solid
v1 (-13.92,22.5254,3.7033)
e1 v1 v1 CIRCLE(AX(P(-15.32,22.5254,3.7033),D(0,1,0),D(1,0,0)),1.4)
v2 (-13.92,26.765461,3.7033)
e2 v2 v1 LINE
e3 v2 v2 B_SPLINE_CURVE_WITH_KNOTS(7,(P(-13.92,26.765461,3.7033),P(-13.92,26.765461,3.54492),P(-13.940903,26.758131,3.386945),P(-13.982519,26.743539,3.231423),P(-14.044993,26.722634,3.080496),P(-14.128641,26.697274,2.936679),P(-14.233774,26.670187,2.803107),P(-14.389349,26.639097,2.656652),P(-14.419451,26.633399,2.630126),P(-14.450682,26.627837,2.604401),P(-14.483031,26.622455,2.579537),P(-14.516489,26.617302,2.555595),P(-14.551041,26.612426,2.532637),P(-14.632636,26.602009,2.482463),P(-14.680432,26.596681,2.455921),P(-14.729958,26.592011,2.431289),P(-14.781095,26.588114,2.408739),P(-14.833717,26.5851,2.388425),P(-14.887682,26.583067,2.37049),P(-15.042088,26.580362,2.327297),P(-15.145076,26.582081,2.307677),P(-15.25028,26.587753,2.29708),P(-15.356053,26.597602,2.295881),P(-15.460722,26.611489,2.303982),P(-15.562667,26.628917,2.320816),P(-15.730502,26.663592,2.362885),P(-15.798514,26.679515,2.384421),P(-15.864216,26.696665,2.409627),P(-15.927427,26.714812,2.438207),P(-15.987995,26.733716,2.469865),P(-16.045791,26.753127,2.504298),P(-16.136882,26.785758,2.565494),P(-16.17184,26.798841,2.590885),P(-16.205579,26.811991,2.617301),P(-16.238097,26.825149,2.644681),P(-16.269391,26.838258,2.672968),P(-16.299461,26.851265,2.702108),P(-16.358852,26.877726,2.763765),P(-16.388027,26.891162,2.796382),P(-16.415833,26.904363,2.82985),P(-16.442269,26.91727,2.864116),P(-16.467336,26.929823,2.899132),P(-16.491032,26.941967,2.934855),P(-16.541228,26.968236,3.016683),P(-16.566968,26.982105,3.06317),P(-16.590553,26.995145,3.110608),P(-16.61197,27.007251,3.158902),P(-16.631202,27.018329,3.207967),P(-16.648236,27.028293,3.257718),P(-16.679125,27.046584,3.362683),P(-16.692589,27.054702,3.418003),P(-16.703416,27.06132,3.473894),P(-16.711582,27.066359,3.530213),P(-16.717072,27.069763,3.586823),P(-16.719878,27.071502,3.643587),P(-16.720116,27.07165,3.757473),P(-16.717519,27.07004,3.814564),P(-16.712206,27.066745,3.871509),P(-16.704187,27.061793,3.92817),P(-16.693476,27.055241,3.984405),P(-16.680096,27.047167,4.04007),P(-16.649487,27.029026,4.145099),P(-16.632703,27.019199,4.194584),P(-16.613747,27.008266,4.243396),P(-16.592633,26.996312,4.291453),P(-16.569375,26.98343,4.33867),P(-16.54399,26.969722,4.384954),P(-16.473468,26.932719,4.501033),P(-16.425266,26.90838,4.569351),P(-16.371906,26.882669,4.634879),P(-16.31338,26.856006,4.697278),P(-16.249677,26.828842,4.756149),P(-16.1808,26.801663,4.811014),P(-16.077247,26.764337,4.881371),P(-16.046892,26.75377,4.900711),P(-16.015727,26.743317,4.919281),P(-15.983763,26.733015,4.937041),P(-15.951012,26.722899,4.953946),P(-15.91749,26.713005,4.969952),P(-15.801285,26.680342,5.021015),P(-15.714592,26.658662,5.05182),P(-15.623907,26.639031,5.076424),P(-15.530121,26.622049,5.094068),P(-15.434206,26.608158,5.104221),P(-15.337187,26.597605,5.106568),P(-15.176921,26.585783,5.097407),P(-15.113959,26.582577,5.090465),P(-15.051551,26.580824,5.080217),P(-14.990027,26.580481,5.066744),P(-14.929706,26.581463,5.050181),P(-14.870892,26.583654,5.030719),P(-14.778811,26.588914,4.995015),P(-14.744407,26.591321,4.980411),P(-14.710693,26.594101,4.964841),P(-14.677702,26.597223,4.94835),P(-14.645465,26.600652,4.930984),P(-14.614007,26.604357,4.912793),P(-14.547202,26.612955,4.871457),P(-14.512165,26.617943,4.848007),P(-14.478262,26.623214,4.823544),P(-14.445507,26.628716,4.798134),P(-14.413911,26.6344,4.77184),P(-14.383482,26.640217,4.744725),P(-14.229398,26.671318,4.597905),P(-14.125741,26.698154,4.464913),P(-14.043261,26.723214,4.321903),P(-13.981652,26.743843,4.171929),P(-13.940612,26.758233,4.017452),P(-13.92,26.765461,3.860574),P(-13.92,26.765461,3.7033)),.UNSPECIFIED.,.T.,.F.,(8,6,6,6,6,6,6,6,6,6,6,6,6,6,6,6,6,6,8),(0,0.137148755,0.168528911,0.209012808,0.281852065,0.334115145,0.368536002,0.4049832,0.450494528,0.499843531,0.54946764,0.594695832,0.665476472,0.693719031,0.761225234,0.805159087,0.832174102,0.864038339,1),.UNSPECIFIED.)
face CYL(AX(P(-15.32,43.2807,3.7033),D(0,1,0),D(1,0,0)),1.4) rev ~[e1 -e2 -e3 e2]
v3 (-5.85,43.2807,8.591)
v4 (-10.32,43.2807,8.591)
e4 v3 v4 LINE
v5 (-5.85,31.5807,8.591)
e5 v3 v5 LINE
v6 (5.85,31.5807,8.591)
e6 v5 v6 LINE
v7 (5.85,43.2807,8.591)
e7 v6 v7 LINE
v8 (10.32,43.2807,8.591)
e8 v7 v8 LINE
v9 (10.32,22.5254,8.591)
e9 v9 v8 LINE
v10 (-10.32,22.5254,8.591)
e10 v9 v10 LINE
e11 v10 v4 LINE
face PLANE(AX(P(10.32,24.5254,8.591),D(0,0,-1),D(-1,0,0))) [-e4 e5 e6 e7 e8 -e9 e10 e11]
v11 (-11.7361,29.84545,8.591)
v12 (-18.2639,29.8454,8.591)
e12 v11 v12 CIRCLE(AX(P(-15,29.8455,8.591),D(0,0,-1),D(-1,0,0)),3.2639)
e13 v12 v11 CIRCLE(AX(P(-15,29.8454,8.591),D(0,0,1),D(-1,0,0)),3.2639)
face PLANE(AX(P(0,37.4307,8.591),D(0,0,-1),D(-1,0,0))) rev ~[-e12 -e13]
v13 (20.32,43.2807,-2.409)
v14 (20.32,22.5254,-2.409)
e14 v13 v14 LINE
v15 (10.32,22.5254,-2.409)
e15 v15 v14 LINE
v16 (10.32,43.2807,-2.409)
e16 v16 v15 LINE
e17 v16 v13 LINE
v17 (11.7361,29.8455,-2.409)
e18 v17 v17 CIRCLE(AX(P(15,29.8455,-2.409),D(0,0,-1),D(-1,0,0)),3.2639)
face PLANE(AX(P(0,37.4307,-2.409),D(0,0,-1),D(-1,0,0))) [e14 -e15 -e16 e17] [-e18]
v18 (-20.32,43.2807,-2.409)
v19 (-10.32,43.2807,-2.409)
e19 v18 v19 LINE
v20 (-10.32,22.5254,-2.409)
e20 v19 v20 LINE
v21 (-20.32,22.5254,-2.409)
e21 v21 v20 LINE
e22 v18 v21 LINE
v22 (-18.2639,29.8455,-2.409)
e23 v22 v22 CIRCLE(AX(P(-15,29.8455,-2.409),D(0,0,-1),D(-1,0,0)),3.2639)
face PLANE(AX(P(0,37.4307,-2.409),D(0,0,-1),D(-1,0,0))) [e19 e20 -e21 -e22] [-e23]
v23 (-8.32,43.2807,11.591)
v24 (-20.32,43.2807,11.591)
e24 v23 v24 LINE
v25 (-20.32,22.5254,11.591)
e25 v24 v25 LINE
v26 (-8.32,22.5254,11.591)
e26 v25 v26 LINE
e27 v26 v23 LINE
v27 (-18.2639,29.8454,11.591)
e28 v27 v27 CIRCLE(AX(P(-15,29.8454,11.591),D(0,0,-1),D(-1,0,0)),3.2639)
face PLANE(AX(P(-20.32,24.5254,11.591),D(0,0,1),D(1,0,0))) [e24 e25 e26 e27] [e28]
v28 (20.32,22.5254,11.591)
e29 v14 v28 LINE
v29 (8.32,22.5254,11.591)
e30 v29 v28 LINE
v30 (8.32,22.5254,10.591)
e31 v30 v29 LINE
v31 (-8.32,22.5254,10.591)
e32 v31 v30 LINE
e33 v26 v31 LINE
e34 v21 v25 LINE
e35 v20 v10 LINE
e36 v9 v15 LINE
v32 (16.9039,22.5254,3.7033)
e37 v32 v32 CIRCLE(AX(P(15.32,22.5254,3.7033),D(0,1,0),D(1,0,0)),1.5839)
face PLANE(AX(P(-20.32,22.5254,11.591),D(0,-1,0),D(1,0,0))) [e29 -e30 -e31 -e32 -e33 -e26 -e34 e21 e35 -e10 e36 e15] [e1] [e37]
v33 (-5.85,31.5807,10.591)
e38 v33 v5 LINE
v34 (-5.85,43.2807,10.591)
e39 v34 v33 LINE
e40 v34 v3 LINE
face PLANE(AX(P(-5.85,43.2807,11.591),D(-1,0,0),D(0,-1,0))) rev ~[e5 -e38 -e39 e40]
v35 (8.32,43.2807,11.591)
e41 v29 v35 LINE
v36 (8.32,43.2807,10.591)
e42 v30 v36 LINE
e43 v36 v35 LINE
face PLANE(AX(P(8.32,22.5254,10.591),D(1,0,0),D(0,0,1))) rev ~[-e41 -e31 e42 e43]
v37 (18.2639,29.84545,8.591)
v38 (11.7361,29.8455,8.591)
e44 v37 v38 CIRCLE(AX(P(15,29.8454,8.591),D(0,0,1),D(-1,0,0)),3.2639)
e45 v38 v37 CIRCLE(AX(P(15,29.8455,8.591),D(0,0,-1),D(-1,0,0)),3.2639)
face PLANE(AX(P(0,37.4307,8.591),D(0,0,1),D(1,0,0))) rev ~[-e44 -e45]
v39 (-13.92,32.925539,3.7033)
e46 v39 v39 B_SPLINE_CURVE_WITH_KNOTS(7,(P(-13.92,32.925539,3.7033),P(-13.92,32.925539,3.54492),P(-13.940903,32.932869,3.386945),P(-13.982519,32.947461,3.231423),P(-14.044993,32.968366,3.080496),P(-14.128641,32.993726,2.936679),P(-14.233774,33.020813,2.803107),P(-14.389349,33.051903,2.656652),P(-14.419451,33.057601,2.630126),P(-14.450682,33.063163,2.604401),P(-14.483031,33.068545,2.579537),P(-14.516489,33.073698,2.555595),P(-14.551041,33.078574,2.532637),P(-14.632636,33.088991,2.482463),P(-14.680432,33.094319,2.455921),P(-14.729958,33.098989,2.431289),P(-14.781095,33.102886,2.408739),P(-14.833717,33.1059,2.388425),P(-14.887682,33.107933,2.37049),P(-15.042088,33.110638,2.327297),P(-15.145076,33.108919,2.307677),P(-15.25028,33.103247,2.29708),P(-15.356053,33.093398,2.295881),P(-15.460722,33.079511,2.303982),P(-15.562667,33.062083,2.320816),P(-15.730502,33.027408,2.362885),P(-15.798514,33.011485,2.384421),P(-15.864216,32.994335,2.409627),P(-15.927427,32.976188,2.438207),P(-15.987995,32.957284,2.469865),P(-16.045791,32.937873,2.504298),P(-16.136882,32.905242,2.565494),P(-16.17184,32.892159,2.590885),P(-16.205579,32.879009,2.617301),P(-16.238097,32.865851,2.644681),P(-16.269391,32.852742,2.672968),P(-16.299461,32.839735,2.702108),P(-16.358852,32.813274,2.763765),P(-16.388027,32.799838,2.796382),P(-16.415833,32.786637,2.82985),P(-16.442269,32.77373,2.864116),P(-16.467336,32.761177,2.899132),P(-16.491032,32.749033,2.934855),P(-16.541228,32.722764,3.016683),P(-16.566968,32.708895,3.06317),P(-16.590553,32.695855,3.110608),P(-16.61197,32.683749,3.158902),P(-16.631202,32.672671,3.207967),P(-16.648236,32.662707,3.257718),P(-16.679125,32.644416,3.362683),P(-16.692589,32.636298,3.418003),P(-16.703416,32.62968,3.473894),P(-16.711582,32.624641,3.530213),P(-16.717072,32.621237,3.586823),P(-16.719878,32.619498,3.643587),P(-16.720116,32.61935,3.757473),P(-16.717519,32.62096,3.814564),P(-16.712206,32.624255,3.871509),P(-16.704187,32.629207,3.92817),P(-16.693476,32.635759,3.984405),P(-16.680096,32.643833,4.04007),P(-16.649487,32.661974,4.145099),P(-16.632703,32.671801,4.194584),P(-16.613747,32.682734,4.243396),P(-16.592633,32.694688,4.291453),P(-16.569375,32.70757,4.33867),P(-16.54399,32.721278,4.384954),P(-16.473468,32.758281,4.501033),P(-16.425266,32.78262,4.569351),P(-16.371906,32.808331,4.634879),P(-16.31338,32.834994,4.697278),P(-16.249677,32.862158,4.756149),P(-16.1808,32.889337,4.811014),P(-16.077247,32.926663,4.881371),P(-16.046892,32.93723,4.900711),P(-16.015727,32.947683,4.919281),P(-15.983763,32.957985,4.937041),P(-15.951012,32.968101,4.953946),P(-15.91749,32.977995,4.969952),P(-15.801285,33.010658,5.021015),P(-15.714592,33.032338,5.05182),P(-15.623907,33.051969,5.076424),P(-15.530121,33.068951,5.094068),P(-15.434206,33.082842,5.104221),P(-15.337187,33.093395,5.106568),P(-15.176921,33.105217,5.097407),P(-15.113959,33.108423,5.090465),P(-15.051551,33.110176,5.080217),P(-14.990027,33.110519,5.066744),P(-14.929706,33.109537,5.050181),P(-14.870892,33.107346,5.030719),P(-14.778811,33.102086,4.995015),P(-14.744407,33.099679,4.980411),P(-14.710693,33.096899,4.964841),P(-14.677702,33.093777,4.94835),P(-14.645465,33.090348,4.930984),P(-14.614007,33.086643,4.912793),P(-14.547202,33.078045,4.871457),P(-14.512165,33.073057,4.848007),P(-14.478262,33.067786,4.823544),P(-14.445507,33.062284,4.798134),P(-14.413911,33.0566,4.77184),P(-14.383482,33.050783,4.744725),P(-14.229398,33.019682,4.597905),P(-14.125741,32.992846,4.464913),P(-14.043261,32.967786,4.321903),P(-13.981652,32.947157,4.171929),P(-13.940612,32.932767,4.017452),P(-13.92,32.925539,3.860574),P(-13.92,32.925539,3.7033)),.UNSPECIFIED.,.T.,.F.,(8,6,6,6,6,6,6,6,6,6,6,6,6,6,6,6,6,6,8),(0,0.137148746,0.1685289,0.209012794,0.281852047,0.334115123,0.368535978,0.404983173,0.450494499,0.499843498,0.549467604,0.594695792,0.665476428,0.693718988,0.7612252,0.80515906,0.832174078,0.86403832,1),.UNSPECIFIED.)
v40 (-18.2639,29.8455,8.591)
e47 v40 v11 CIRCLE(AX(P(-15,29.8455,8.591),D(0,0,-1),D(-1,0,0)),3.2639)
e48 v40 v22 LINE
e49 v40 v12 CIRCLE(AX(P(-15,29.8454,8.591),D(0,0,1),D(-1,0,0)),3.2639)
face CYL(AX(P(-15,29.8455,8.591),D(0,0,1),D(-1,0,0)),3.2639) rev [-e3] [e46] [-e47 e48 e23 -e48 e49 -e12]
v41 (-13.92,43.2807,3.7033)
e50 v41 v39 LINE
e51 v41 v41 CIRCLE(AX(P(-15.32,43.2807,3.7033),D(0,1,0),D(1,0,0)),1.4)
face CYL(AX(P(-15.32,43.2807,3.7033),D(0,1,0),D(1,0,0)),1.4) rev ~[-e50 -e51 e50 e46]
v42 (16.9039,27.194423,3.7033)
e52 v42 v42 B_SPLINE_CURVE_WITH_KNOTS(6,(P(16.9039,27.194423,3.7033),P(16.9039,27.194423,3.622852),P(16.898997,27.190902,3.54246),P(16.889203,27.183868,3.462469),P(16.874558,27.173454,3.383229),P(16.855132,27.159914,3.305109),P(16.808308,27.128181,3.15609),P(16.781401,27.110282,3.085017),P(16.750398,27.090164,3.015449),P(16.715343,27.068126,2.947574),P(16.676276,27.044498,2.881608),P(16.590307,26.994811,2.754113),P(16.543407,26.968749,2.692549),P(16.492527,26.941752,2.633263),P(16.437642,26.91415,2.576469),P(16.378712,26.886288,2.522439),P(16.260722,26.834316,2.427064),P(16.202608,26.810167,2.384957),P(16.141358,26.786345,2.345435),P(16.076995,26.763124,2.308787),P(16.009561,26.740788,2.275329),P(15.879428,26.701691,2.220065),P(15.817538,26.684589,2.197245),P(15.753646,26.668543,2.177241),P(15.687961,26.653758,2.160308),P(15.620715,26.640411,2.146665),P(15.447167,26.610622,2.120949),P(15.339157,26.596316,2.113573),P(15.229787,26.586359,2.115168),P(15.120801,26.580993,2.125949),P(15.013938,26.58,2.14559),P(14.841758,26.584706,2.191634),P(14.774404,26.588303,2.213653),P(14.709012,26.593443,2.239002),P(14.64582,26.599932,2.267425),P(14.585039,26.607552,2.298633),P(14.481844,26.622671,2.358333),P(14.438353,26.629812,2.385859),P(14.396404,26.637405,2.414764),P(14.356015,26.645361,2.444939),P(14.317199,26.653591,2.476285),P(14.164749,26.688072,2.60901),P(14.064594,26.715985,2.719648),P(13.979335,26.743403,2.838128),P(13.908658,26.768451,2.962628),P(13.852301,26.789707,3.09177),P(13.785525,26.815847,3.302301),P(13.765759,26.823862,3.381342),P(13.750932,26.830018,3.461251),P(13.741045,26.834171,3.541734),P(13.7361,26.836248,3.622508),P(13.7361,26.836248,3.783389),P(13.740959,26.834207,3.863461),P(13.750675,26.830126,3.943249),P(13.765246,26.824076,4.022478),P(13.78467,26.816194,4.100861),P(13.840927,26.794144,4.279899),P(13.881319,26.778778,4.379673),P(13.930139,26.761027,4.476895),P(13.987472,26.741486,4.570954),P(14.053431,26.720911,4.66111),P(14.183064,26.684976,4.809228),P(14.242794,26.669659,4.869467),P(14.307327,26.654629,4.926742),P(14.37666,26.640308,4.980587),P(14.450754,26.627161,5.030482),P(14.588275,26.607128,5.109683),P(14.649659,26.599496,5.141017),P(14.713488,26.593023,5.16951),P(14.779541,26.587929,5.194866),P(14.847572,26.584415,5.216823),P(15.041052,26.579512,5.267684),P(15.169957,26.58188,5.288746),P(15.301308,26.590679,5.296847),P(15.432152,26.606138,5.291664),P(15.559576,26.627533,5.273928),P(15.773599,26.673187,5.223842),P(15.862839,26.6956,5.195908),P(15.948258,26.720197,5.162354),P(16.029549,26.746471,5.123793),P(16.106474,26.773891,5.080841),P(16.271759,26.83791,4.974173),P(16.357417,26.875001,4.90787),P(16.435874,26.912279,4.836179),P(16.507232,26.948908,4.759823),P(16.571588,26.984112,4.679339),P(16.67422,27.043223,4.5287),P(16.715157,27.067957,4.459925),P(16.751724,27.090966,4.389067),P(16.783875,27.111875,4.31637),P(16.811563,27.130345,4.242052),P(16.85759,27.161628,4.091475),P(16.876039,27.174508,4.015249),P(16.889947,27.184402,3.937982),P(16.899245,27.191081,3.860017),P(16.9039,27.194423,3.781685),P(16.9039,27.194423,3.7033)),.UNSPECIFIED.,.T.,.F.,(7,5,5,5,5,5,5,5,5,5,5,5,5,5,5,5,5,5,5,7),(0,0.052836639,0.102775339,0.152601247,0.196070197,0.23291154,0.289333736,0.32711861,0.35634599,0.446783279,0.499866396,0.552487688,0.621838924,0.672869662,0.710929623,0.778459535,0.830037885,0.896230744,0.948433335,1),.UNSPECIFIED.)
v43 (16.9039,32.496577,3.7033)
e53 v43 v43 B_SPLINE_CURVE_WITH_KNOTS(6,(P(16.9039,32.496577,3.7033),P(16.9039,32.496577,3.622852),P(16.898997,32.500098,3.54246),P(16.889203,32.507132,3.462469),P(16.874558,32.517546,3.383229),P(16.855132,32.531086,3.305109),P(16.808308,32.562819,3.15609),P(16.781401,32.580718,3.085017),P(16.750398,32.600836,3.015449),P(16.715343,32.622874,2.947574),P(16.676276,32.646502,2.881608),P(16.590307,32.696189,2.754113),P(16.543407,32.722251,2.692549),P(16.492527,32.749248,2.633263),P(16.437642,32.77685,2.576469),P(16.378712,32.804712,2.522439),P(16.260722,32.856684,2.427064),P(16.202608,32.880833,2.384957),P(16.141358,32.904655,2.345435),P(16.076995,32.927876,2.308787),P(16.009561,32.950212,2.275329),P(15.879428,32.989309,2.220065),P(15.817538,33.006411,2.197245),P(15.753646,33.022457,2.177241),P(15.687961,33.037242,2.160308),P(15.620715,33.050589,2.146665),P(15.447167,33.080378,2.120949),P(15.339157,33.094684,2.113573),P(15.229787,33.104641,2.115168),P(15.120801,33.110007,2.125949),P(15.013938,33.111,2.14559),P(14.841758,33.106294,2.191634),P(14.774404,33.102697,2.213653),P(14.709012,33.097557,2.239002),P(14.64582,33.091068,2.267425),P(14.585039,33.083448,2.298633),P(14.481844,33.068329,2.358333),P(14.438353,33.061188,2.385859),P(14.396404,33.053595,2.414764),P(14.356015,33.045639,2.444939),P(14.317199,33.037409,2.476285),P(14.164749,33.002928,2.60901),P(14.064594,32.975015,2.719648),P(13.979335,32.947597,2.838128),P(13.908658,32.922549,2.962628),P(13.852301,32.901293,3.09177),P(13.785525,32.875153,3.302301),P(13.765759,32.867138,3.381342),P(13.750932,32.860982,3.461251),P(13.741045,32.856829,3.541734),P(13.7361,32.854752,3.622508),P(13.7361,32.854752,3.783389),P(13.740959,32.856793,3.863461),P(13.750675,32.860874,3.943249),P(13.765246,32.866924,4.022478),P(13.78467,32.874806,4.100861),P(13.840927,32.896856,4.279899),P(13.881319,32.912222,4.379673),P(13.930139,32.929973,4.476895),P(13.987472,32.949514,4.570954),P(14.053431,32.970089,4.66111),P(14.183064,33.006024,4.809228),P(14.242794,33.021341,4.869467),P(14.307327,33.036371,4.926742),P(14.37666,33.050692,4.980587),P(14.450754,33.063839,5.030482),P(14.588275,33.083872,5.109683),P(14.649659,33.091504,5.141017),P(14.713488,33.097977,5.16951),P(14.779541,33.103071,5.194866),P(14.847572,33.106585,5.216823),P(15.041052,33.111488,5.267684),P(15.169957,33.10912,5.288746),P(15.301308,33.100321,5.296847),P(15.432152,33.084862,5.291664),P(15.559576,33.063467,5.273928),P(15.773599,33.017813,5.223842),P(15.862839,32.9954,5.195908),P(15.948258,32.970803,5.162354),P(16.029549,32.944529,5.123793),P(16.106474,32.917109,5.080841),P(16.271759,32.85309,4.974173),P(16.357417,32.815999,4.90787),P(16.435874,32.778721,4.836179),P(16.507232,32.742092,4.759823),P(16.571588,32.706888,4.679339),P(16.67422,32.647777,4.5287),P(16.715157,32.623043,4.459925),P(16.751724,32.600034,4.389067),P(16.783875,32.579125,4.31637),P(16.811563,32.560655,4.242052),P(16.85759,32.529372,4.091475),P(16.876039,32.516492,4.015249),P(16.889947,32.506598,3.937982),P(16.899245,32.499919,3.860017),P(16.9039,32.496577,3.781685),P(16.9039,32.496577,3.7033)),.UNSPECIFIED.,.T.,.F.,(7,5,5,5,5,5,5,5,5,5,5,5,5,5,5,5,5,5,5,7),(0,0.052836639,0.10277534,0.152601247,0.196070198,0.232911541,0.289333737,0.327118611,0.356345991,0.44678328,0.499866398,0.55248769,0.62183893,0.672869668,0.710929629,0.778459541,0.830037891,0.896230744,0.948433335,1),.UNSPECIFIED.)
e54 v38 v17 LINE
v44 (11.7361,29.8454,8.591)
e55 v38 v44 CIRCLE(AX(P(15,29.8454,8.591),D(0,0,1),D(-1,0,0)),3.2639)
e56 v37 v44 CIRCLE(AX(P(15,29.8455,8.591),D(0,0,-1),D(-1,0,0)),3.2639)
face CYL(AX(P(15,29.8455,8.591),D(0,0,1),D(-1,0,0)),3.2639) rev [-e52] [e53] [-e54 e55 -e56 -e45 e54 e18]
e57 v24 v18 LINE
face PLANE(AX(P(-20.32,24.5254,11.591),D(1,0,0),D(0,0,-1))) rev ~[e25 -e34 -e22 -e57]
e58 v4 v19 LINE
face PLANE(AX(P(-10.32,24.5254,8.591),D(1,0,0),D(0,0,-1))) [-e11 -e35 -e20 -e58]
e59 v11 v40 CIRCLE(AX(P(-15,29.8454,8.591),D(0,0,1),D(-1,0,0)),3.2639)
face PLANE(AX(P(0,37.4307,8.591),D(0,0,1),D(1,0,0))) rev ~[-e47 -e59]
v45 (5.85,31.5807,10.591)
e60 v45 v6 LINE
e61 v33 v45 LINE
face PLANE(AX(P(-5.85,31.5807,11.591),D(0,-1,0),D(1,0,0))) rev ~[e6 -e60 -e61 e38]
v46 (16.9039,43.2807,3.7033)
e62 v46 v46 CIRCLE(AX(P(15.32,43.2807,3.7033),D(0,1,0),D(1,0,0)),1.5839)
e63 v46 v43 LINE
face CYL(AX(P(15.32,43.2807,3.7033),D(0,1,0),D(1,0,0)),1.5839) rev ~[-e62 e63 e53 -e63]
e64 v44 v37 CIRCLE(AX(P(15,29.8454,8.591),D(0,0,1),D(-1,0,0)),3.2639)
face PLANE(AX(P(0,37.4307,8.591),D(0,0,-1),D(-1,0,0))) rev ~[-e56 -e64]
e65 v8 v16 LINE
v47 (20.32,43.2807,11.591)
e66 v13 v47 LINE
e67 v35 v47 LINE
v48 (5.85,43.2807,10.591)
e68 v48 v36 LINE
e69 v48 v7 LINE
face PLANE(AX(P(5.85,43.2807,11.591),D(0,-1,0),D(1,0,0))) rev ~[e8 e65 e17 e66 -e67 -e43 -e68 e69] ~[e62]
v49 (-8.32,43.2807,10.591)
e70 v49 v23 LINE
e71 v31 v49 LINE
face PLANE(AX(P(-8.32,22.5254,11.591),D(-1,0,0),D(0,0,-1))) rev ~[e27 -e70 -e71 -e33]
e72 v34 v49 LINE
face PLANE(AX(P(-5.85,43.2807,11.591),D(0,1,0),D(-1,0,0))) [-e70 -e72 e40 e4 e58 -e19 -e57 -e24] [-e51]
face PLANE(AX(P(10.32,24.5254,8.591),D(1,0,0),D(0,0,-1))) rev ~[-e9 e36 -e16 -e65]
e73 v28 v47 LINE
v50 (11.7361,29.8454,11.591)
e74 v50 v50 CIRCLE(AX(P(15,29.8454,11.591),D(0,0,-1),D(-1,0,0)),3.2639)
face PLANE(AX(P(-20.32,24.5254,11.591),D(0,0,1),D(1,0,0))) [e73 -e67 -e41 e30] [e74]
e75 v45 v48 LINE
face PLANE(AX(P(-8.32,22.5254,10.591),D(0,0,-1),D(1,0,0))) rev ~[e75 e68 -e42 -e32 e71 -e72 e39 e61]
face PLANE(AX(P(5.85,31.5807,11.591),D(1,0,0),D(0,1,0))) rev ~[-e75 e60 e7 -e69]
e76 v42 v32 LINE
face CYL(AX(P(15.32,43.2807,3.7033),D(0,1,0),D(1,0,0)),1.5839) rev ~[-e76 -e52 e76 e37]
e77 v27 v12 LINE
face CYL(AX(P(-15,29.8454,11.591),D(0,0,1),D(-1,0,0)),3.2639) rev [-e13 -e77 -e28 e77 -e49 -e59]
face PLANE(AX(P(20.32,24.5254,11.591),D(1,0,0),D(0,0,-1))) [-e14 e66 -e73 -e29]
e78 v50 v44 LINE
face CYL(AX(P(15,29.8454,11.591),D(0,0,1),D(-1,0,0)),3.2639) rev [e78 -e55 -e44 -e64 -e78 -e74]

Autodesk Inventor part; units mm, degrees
ref_plane "YZ Plane" through (0, 0, 0) normal (1, 0, 0) x (0, 1, 0)
ref_plane "XZ Plane" through (0, 0, 0) normal (0, 1, 0) x (-1, 0, 0)
ref_plane "Work Plane1" through (0, 37.4307, 11.591) normal (0, 0, 1) x (1, 0, 0)
sketch "Sketch1" plane through (0, 37.4307, 11.591) normal (0, 0, 1) x (1, 0, 0)
  circle A0 centre (0, 0) radius 1.2261 construction
  line L0 (4.85, 4.85) -> (-4.85, 4.85) construction
  line L1 (-4.85, 4.85) -> (-4.85, -4.85) construction
  line L2 (-4.85, -4.85) -> (4.85, -4.85) construction
  line L3 (4.85, -4.85) -> (4.85, 4.85) construction
  line L4 (5.85, 5.85) -> (-5.85, 5.85)
  line L5 (-5.85, 5.85) -> (-5.85, -5.85)
  line L6 (-5.85, -5.85) -> (5.85, -5.85)
  line L7 (5.85, -5.85) -> (5.85, 5.85)
  line L8 (20.32, 25.4487) -> (20.32, -10.6193) projected
  line L9 (-20.32, -10.6193) -> (-20.32, 25.4487) projected
  line L10 (5.85, 5.85) -> (20.32, 5.85)
  line L11 (20.32, 5.85) -> (20.32, -5.85)
  line L12 (20.32, -5.85) -> (5.85, -5.85)
  line L13 (5.85, -5.85) -> (5.85, 5.85)
  line L14 (-5.85, 5.85) -> (-20.32, 5.85)
  line L15 (-20.32, 5.85) -> (-20.32, -5.85)
  line L16 (-20.32, -5.85) -> (-5.85, -5.85)
  line L17 (-5.85, -5.85) -> (-5.85, 5.85)
  line L18 (18.034, -12.9053) -> (-18.034, -12.9053) projected
  line L19 (20.32, -5.85) -> (-20.32, -5.85)
  line L20 (-20.32, -5.85) -> (-20.32, -12.9053)
  line L21 (-20.32, -12.9053) -> (20.32, -12.9053)
  line L22 (20.32, -12.9053) -> (20.32, -5.85)
  point P0 (0, -37.4307)
  dimension "d0" = 1
ref_plane "Work Plane2" through (-20.066, 24.7794, 0) normal (0, 0, 1) x (1, 0, 0)
extrude "Extrusion1" add sketch "Sketch1" against normal blind 3 contours L10 L8 L12 L7 | L5 L16 L9 L14 | L12 L8 L22 L21 L18 L20 L9 L16 L6
sketch "Sketch2" plane through (20.32, 24.5254, 11.591) normal (0, 0, -1) x (-1, 0, 0)
  circle A0 centre (35.32, 5.32) radius 3.0099 projected
  circle A1 centre (5.32, 5.32) radius 3.0099 projected
  circle A2 centre (35.32, 5.32) radius 3.2639 projected
  circle A3 centre (5.32, 5.32) radius 3.2639 projected
extrude "Extrusion2" cut sketch "Sketch2" along normal through all contours A0 | A1 | A2 | A3
sketch "Sketch9" plane through (0, 37.4307, 8.591) normal (0, 0, -1) x (-1, 0, 0)
  line L0 (5.85, -5.85) -> (-5.85, -5.85) projected
  circle A0 centre (-15, -7.5852) radius 3.2639 projected
  line L1 (-20.32, 5.85) -> (-20.32, -12.9053) projected
  line L2 (-20.32, -12.9053) -> (20.32, -12.9053) projected
  line L3 (20.32, -12.9053) -> (20.32, 5.85) projected
  circle A1 centre (15, -7.5852) radius 3.2639 projected
  line L4 (-5.85, 5.85) -> (-20.32, 5.85) projected
  line L5 (20.32, 5.85) -> (5.85, 5.85) projected
  line L6 (5.85, 5.85) -> (5.85, -5.85) projected
  line L7 (-5.85, -5.85) -> (-5.85, 5.85) projected
  line L8 (20.32, 5.85) -> (20.32, -12.9053) projected
  line L9 (20.32, 5.85) -> (5.85, 5.85) projected
  line L10 (20.32, -12.9053) -> (10.32, -12.9053)
  line L11 (10.32, -12.9053) -> (10.32, 5.85)
  line L12 (10.32, 5.85) -> (20.32, 5.85)
  line L13 (20.32, 5.85) -> (20.32, -12.9053)
  line L14 (-20.32, -12.9053) -> (-10.32, -12.9053)
  line L15 (-10.32, -12.9053) -> (-10.32, 5.85)
  line L16 (-10.32, 5.85) -> (-20.32, 5.85)
  line L17 (-20.32, 5.85) -> (-20.32, -12.9053)
  point P0 (0, -37.4307)
  dimension "d36" = 10
  dimension "d37" = 10
extrude "Extrusion9" add sketch "Sketch9" along normal blind 4 contours L5 L3 L2 L11 | L15 L2 L1 L4
sketch "Sketch10" plane through (-20.32, 24.5254, 11.591) normal (0, -1, 0) x (1, 0, 0)
  line L0 (0, 0) -> (40.64, 0) projected
  line L1 (0, 0) -> (0, -7) projected
  line L2 (10, -7) -> (0, -7) projected
  line L3 (10, -3) -> (10, -7) projected
  line L4 (30.64, -3) -> (10, -3) projected
  line L5 (30.64, -3) -> (30.64, -7) projected
  line L6 (40.64, -7) -> (30.64, -7) projected
  line L7 (40.64, 0) -> (40.64, -7) projected
  point P0 (20.32, -11.591)
extrude "Extrusion10" add sketch "Sketch10" along normal blind 2
sketch "Sketch12" plane through (-20.32, 22.5254, 11.591) normal (0, -1, 0) x (1, 0, 0)
  line L0 (40.64, 0) -> (0, 0) projected
  line L1 (0, 0) -> (0, -7) projected
  line L2 (0, -7) -> (10, -7) projected
  line L3 (10, -7) -> (10, -3) projected
  line L4 (10, -3) -> (30.64, -3) projected
  line L5 (30.64, -3) -> (30.64, -7) projected
  line L6 (30.64, -7) -> (40.64, -7) projected
  line L7 (40.64, -7) -> (40.64, 0) projected
  line L8 (40.64, 0) -> (26.17, 0) projected
  line L9 (28.64, 0) -> (12, 0)
  line L10 (12, 0) -> (12, -1)
  line L11 (12, -1) -> (28.64, -1)
  line L12 (28.64, -1) -> (28.64, 0)
  point P0 (20.32, -11.591)
  dimension "d49" = 1
  dimension "d52" = 2
  dimension "d53" = 2
extrude "Extrusion11" cut sketch "Sketch12" against normal through all contours L12 L11 L10 L0
sketch "Sketch13" plane through (0, 37.4307, 4.591) normal (0, 0, -1) x (-1, 0, 0)
  circle A0 centre (15, -7.5852) radius 3.2639 projected
  line L0 (20.32, 5.85) -> (20.32, -14.9053) projected
  line L1 (20.32, 5.85) -> (10.32, 5.85) projected
  line L2 (10.32, 5.85) -> (10.32, -14.9053) projected
  line L3 (20.32, -14.9053) -> (10.32, -14.9053) projected
  circle A1 centre (-15, -7.5852) radius 3.2639 projected
  line L4 (-10.32, 5.85) -> (-10.32, -14.9053) projected
  line L5 (-10.32, 5.85) -> (-20.32, 5.85) projected
  line L6 (-20.32, 5.85) -> (-20.32, -14.9053) projected
  line L7 (-10.32, -14.9053) -> (-20.32, -14.9053) projected
  point P0 (0, -37.4307)
extrude "Extrusion12" add sketch "Sketch13" along normal blind 7
sketch "Sketch14" plane through (-10.32, 43.2807, 8.591) normal (0, 1, 0) x (1, 0, 0)
  line L0 (2, -2) -> (4.47, -2) projected
  line L1 (4.47, -2) -> (4.47, 0) projected
  line L2 (0, 0) -> (4.47, 0) projected
  line L3 (0, 0) -> (0, 11) projected
  line L4 (-10, 11) -> (0, 11) projected
  line L5 (-10, -3) -> (-10, 11) projected
  line L6 (2, -3) -> (-10, -3) projected
  line L7 (2, -3) -> (2, -2) projected
  line L8 (16.17, -2) -> (18.64, -2) projected
  line L9 (18.64, -2) -> (18.64, -3) projected
  line L10 (30.64, -3) -> (18.64, -3) projected
  line L11 (30.64, -3) -> (30.64, 11) projected
  line L12 (20.64, 11) -> (30.64, 11) projected
  line L13 (20.64, 0) -> (20.64, 11) projected
  line L14 (16.17, 0) -> (20.64, 0) projected
  line L15 (16.17, -2) -> (16.17, 0) projected
  line L16 (-7.9439, -3) -> (-7.9439, 11) projected
  line L17 (-1.4161, -3) -> (-1.4161, 11) projected
  line L18 (22.0561, -3) -> (22.0561, 11) projected
  line L19 (28.5839, -3) -> (28.5839, 11) projected
  circle A0 centre (-5, 4.8877) radius 1.4
  circle A1 centre (25.64, 4.8877) radius 1.5839
  point P0 (10.32, 8.591)
  dimension "d56" = 2.8
extrude "Extrusion13" cut sketch "Sketch14" against normal through all contours A0 | A1
properties part number "20_Adapter_Bluray_KES400_Lens_Thorlabs_v2"
